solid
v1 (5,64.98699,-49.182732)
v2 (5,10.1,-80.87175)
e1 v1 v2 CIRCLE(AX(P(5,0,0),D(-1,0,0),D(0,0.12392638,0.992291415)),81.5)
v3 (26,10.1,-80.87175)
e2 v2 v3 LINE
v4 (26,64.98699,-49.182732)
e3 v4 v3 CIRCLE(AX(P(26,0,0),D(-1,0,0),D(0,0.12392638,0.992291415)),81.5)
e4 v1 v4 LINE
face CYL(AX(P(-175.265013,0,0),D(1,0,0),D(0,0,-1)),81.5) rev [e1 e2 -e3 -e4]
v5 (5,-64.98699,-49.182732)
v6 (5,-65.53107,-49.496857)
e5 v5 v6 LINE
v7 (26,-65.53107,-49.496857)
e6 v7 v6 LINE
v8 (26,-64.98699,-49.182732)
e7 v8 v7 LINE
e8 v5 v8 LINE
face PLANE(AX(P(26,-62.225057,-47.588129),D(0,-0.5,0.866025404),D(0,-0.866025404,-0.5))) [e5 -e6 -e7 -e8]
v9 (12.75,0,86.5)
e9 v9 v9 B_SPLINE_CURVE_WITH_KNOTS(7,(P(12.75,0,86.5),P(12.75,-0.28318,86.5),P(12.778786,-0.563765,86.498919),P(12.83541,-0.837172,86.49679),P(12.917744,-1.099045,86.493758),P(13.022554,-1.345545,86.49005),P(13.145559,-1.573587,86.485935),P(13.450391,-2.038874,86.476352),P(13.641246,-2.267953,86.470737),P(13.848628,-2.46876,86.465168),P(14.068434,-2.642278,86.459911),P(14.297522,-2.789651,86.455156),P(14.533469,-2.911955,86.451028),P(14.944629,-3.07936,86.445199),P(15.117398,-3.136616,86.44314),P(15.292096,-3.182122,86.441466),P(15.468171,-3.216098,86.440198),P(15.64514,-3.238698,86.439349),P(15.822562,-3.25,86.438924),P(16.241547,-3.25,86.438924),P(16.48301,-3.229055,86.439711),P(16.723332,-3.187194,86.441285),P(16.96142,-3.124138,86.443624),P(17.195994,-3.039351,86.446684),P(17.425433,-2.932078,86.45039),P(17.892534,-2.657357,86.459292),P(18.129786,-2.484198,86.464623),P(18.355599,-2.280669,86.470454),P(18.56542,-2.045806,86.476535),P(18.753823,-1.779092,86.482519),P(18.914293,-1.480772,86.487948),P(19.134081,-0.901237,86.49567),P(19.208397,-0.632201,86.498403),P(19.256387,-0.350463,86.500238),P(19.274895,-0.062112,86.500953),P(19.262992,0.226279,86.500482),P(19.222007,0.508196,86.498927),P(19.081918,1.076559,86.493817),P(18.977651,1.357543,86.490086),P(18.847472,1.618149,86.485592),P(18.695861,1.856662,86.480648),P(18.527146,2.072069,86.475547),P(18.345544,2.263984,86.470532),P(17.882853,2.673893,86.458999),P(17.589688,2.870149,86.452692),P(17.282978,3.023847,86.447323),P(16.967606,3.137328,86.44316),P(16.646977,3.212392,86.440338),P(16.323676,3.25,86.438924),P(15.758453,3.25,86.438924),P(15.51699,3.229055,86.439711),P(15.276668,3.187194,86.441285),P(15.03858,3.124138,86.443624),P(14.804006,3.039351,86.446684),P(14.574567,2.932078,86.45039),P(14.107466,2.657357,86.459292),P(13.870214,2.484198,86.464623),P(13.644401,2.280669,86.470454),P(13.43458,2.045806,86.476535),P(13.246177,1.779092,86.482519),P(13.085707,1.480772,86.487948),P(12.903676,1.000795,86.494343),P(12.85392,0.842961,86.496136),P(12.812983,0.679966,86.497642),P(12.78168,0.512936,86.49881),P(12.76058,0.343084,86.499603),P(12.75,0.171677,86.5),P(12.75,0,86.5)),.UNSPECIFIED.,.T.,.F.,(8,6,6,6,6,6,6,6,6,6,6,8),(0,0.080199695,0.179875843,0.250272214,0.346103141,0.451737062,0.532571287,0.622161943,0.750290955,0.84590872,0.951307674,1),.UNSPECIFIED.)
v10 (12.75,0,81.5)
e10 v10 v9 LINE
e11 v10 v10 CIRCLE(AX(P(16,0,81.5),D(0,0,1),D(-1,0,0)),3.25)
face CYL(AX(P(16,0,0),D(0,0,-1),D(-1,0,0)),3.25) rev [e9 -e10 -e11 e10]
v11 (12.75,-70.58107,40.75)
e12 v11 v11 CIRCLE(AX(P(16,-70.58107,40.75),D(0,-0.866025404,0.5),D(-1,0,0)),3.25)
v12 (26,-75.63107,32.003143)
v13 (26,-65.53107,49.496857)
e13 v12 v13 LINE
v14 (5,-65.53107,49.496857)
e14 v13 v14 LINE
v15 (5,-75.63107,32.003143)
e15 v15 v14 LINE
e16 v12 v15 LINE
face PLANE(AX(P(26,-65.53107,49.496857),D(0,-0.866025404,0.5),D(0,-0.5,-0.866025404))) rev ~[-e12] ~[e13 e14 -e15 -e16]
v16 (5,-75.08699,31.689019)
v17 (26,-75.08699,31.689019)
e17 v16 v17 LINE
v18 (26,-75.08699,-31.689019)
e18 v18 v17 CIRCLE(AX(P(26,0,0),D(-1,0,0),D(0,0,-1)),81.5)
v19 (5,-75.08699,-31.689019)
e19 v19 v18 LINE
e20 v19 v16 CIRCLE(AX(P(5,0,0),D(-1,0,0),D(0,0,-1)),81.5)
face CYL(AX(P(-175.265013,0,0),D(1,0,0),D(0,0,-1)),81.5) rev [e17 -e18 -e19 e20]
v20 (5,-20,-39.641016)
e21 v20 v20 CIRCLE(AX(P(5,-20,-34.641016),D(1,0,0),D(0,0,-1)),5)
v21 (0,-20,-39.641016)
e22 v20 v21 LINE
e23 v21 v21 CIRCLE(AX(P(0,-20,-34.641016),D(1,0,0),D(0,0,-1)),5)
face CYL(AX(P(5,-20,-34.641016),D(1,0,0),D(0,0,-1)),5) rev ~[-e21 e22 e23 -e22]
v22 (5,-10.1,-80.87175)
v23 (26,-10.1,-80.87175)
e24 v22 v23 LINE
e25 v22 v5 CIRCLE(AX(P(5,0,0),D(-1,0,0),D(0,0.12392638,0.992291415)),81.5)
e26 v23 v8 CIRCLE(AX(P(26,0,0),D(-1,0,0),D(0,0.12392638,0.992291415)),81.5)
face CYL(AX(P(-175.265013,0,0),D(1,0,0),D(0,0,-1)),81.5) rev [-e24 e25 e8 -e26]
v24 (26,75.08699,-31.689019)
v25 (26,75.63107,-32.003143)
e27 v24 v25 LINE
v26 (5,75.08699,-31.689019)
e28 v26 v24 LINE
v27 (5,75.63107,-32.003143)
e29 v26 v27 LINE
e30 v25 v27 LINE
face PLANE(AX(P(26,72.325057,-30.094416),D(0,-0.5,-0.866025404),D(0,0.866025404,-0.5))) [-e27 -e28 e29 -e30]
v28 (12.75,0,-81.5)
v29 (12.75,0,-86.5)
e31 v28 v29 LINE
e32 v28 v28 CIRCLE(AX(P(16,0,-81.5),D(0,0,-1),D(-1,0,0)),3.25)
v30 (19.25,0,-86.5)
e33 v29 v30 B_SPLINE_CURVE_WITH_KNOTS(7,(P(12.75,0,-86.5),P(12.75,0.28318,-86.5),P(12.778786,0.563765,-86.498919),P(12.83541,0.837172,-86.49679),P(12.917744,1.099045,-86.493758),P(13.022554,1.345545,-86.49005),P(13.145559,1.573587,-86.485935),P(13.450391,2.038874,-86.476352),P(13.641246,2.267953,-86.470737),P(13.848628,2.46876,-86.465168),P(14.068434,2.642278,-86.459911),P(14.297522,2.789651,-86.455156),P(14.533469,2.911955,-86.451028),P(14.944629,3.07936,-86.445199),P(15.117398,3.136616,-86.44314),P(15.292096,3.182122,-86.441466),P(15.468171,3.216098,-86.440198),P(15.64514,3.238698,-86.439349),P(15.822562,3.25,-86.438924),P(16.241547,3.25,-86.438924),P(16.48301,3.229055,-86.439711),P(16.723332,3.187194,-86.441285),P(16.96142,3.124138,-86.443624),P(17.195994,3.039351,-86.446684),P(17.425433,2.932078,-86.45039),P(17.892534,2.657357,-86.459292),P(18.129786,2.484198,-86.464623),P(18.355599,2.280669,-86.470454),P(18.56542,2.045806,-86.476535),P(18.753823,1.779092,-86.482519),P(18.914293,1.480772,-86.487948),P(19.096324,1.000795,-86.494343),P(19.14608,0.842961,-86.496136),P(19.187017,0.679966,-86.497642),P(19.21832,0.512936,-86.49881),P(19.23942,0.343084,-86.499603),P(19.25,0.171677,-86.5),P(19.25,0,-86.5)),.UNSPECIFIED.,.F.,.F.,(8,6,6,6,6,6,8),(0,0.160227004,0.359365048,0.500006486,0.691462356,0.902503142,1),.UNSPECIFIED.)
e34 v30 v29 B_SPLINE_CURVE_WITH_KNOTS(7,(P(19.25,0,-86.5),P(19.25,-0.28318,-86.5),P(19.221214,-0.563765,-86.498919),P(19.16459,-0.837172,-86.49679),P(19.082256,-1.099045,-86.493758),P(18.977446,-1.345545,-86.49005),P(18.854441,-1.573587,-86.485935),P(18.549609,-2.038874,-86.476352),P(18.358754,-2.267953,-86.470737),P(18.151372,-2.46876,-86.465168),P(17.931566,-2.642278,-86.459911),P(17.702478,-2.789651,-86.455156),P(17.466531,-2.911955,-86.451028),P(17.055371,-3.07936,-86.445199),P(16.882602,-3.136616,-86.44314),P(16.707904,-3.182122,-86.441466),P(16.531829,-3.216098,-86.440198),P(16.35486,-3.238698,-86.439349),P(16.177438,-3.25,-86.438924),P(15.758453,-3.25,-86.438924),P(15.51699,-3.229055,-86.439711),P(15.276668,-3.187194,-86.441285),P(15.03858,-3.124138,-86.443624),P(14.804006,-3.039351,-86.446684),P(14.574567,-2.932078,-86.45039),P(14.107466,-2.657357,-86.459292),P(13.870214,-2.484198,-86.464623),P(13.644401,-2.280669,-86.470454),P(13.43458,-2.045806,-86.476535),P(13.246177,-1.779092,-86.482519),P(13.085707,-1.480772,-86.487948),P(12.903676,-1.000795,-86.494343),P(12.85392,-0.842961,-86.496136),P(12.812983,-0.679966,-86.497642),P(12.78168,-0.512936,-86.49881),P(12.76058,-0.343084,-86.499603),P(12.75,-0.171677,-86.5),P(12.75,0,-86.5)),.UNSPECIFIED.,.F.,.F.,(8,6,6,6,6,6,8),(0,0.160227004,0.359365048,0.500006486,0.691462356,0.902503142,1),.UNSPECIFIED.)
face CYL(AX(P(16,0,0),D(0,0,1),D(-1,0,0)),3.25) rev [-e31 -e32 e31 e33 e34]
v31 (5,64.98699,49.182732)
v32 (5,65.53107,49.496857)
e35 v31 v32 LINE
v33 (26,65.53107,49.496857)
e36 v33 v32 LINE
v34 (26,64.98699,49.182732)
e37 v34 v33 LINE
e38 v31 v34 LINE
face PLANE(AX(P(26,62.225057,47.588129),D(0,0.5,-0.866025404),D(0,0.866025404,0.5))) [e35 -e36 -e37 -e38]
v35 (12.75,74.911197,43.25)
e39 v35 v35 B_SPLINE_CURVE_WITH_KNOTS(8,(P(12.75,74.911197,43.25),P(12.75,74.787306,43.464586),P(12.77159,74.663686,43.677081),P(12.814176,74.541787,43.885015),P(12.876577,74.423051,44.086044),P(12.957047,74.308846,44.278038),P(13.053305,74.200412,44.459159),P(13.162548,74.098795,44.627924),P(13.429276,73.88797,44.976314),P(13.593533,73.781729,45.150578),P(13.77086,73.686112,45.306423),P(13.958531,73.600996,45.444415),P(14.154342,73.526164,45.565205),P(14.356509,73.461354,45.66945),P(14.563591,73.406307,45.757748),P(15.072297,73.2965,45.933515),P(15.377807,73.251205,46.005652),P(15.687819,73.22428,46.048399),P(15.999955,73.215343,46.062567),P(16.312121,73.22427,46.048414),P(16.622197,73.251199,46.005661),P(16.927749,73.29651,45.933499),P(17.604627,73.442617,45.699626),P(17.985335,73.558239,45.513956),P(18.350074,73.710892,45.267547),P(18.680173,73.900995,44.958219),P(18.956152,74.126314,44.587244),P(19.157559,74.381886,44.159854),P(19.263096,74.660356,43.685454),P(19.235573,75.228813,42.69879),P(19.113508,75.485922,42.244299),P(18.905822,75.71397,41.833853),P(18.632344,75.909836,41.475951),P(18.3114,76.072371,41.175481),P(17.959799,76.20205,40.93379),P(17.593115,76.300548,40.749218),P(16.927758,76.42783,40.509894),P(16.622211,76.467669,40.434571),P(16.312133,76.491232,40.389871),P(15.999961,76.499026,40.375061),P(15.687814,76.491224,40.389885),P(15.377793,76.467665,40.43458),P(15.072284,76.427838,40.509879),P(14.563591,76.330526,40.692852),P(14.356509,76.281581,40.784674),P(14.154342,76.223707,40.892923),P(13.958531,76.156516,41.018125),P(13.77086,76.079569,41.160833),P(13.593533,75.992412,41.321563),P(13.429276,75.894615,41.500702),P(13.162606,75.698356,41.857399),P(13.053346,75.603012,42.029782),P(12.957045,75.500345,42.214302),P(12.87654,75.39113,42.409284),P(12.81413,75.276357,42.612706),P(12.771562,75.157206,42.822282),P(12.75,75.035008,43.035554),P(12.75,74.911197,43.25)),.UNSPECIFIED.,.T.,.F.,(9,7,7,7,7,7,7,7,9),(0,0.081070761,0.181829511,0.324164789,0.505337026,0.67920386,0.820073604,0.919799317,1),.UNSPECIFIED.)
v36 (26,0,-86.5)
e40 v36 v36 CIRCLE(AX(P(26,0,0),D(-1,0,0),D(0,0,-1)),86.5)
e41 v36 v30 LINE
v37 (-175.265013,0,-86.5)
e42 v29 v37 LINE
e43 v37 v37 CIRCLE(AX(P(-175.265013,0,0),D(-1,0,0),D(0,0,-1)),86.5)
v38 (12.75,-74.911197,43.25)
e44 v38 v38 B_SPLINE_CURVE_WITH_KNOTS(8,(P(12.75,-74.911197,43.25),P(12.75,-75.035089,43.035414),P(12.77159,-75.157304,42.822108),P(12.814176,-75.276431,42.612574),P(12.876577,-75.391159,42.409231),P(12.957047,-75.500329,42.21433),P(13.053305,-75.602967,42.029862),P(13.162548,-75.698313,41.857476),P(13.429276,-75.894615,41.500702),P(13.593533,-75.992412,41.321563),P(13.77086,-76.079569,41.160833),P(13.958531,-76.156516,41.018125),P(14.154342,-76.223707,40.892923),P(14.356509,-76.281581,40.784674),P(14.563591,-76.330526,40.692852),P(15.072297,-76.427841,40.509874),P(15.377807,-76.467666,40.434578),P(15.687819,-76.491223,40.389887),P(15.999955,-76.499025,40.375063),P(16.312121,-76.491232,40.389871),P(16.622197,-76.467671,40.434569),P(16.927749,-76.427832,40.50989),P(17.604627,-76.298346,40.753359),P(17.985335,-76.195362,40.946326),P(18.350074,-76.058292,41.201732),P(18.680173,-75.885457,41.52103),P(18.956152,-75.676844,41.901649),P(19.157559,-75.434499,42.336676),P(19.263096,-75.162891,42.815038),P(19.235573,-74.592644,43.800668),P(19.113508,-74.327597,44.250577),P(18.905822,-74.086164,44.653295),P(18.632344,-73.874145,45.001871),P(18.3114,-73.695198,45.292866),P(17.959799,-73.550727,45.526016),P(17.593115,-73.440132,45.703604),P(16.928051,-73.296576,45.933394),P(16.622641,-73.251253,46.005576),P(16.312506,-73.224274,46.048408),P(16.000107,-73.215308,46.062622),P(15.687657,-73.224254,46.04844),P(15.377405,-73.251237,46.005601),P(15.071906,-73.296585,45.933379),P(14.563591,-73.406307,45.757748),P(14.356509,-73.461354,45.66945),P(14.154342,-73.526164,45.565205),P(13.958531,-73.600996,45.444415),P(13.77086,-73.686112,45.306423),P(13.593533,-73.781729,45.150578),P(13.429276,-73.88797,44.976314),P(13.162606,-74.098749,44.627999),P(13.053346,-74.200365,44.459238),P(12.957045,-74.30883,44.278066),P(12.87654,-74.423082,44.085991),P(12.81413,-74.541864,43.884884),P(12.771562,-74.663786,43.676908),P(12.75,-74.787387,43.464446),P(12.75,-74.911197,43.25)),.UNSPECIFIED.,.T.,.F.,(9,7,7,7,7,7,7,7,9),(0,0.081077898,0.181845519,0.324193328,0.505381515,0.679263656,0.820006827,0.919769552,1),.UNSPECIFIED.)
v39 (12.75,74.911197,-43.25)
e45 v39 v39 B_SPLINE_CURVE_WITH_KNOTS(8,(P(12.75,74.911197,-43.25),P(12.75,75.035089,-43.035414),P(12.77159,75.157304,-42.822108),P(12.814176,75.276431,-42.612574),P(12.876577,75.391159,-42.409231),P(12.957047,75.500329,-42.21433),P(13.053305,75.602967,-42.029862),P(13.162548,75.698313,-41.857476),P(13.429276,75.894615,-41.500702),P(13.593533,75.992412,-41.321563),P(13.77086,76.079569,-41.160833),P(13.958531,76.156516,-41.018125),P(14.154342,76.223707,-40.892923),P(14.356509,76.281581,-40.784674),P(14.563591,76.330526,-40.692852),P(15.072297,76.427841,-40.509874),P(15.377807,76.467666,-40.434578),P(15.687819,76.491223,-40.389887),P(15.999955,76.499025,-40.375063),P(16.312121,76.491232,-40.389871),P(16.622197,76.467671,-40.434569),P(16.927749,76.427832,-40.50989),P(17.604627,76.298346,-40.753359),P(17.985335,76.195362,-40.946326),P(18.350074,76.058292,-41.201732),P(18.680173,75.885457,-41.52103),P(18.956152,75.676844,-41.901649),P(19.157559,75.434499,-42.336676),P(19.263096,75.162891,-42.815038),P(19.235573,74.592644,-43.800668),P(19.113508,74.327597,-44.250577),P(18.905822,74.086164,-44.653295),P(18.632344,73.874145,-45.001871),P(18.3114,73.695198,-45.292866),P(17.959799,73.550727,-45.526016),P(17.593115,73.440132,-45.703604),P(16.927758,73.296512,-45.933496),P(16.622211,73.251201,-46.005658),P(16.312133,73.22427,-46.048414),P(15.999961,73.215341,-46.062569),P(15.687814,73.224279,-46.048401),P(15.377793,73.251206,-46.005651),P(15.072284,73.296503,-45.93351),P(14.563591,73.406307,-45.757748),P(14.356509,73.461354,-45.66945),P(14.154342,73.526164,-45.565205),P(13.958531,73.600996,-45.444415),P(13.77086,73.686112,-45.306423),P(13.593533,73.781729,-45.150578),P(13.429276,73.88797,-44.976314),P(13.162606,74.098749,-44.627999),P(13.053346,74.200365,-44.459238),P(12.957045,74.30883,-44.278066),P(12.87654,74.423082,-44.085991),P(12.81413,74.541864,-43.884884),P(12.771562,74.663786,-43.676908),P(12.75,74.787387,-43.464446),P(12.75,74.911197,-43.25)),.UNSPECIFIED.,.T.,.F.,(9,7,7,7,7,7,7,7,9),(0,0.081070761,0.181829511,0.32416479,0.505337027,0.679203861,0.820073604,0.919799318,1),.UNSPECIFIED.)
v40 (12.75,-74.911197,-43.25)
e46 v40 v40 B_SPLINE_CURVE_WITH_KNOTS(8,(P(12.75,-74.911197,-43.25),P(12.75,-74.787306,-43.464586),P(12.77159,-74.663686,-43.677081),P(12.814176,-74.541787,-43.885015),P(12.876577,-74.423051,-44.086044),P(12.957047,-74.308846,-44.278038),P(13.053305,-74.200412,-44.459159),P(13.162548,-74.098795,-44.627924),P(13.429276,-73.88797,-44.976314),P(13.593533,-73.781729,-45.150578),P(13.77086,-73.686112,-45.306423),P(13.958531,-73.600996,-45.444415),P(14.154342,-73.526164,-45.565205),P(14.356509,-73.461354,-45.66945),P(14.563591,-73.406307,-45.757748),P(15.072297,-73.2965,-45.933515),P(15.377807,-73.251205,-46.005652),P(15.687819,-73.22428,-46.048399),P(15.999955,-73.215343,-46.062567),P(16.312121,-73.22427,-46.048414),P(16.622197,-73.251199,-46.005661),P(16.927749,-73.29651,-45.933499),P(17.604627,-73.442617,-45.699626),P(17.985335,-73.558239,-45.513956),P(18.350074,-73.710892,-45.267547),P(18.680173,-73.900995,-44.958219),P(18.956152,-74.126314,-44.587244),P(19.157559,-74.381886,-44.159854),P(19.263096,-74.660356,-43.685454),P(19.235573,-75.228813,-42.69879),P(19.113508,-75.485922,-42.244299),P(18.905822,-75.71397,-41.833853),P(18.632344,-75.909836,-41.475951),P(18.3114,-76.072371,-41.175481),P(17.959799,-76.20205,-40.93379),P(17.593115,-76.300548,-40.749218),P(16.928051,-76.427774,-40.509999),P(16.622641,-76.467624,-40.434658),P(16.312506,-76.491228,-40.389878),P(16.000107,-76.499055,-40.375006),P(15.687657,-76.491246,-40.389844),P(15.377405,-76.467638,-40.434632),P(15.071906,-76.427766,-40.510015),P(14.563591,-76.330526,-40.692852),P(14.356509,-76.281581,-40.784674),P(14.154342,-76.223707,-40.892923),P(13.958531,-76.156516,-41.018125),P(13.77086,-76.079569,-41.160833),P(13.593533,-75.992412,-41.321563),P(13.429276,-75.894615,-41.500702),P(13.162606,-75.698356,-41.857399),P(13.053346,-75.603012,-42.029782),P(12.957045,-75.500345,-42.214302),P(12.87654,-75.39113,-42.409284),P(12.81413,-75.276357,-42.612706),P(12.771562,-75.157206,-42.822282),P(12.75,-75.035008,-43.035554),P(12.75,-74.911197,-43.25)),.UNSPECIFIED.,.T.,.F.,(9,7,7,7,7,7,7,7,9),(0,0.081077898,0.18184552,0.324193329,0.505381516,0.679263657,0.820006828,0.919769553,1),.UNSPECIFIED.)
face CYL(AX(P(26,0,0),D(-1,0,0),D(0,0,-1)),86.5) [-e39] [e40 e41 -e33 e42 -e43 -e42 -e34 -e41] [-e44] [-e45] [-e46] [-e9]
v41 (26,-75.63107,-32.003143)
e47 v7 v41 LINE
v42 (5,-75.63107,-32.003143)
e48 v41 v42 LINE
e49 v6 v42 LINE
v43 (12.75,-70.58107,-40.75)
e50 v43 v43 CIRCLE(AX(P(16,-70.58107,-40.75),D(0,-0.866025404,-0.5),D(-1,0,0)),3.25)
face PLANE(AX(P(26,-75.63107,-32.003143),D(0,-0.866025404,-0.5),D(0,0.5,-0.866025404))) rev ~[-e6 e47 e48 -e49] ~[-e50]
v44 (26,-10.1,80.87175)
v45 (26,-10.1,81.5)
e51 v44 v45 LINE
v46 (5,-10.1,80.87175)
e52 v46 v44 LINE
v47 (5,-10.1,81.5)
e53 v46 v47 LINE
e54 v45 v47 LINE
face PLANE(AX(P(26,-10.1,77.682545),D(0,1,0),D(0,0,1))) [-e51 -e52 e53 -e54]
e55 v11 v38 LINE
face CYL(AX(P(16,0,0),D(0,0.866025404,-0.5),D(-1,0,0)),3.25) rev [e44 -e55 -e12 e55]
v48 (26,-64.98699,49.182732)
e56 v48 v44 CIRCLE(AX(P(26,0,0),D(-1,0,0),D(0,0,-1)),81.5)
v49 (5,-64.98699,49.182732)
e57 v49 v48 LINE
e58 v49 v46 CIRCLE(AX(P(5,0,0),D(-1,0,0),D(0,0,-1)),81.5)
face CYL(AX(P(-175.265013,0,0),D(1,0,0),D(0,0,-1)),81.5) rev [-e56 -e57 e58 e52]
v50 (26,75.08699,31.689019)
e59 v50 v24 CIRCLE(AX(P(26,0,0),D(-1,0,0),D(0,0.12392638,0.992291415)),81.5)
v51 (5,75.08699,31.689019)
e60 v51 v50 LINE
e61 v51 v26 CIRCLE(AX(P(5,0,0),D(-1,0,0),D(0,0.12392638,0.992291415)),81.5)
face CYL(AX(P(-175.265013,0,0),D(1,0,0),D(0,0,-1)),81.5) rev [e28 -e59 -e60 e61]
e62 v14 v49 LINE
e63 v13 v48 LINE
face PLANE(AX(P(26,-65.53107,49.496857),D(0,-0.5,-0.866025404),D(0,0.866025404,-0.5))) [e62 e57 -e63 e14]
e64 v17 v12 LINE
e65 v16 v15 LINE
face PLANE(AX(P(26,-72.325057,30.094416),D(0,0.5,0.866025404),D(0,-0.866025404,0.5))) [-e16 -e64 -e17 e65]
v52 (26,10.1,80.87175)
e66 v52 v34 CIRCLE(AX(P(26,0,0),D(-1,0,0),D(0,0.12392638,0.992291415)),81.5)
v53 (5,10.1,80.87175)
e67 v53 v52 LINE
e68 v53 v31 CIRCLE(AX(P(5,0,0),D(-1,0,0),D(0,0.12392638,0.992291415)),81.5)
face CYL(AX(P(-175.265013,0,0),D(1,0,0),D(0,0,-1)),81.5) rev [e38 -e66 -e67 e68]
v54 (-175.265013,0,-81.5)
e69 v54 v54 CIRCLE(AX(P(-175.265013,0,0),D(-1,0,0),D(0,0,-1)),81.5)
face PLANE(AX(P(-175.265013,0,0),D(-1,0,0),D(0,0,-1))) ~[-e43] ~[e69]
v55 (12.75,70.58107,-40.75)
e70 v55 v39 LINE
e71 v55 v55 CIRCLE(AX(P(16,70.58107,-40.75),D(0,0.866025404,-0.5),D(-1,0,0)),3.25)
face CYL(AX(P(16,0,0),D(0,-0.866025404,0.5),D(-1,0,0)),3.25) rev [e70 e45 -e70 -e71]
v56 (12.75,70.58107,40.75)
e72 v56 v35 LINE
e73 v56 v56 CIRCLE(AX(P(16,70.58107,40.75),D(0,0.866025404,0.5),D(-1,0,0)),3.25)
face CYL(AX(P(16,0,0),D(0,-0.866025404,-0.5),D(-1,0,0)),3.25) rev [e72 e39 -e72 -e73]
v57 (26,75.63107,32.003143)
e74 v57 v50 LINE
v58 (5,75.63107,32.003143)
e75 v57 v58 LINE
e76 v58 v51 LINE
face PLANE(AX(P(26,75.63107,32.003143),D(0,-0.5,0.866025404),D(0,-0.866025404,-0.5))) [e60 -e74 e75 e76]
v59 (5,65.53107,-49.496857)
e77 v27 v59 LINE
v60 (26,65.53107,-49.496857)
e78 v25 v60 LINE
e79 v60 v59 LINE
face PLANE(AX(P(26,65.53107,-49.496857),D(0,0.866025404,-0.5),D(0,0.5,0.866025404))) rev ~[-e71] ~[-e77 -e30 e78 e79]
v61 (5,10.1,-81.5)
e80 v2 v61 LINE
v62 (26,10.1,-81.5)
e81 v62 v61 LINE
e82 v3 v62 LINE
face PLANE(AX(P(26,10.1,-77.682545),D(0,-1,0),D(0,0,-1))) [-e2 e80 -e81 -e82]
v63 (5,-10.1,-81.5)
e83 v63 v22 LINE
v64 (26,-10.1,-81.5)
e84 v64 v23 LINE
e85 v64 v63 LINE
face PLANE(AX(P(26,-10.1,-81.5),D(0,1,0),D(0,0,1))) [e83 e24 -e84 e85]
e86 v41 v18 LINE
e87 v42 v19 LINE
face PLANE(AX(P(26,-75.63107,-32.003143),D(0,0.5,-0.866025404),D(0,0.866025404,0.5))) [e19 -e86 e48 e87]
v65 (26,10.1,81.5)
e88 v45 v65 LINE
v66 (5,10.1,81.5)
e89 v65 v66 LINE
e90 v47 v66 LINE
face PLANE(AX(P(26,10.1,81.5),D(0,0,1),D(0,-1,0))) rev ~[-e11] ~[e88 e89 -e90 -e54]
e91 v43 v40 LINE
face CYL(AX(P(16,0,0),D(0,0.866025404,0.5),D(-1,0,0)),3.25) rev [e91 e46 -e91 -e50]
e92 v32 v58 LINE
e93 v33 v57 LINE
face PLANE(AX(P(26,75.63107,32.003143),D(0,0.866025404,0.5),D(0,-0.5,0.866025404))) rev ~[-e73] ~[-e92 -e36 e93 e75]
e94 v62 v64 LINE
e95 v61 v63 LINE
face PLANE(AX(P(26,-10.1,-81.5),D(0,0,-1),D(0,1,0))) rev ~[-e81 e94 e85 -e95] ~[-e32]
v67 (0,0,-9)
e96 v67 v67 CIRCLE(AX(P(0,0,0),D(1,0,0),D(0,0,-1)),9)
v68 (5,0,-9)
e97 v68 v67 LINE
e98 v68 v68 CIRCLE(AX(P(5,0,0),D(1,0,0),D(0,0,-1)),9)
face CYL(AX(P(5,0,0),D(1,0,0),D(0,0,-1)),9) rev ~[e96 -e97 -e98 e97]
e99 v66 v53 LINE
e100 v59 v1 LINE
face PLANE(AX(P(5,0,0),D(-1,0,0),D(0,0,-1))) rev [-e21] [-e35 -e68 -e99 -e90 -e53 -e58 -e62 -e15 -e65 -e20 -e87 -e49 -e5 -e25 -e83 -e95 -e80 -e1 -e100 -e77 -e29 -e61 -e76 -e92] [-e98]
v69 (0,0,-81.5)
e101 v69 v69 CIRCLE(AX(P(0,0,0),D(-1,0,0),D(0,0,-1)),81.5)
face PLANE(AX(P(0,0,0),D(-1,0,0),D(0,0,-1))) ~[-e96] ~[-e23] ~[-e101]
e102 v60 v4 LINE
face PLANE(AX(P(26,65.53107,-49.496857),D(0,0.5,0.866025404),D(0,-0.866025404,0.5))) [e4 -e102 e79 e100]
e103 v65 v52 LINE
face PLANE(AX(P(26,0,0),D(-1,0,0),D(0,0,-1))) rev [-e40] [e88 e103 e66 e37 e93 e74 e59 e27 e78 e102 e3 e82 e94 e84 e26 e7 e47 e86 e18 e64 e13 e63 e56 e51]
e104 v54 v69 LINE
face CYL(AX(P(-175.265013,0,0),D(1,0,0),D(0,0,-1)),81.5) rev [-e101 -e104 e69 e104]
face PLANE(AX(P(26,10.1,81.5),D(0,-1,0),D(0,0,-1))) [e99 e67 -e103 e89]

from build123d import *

# Parameters (mm, degrees)
SZKIC1_W                   = 5
SZKIC1_H                   = 5
SZKIC1_W_2                 = 21
SZKIC1_W_3                 = 175.265013497
SZKIC1_H_2                 = 81.5
SZKIC7_R                   = 3.25
WYTNIJ_WYCI_GNI_CIE1_DEPTH = 100
SZYK_KO_OWY1_COUNT         = 6
WYTNIJ_WYCI_GNI_CIE3_DEPTH = 21
SZYK_KO_OWY2_COUNT         = 6
WYTNIJ_WYCI_GNI_CIE2_REACH = 219.853
SZKIC8_R                   = 9
SZKIC8_R_2                 = 5


with BuildPart() as part:
    # Szkic1 → Obrót1 (revolve)
    with BuildSketch(Plane.XY, mode=Mode.PRIVATE) as obr_t1_sk:
        with Locations((2.5, 84)):
            Rectangle(SZKIC1_W, SZKIC1_H)
        with Locations((15.5, 84)):
            Rectangle(SZKIC1_W_2, SZKIC1_H)
        with Locations((-87.632506749, 84)):
            Rectangle(SZKIC1_W_3, SZKIC1_H)
        with Locations((2.5, 40.75)):
            Rectangle(SZKIC1_W, SZKIC1_H_2)
    revolve(obr_t1_sk.sketch.rotate(Axis((5, 0, 0), (-1, 0, 0)), 90), axis=Axis((5, 0, 0), (-1, 0, 0)))

    # Szkic7 → Wytnij-wyciągnięcie1 (cut)
    with BuildSketch(Plane.XY):
        with Locations(Location((16, 0, 0), (0, 0, 180))):
            Circle(SZKIC7_R)
    wytnij_wyci_gni_cie1 = extrude(amount=WYTNIJ_WYCI_GNI_CIE1_DEPTH, mode=Mode.SUBTRACT)

    # Szyk kołowy1: Wytnij-wyciągnięcie1 ×6 about axis
    szyk_ko_owy1_axis = Axis((26, 0, 0), (1, 0, 0))
    for i in range(1, SZYK_KO_OWY1_COUNT):
        add(wytnij_wyci_gni_cie1.rotate(szyk_ko_owy1_axis, i * 360 / SZYK_KO_OWY1_COUNT), mode=Mode.SUBTRACT)

    # Szkic9 → Wytnij-wyciągnięcie3 (cut)
    with BuildSketch(Plane(origin=(26, 0, 0), x_dir=(0, 0, -1), z_dir=(1, 0, 0))):
        Polygon((-81.5, 0), (-81.5, 10.1), (-77.682544911, 10.1), (-77.682544911, -10.1), (-81.5, -10.1), align=None)
    wytnij_wyci_gni_cie3 = extrude(amount=-WYTNIJ_WYCI_GNI_CIE3_DEPTH, mode=Mode.SUBTRACT)

    # Szyk kołowy2: Wytnij-wyciągnięcie3 ×6 about axis
    szyk_ko_owy2_axis = Axis((0, 0, 0), (1, 0, 0))
    for i in range(1, SZYK_KO_OWY2_COUNT):
        add(wytnij_wyci_gni_cie3.rotate(szyk_ko_owy2_axis, i * 360 / SZYK_KO_OWY2_COUNT), mode=Mode.SUBTRACT)

    # Szkic8 → Wytnij-wyciągnięcie2 (cut, up to next)
    with BuildSketch(Plane(origin=(5, 0, 0), x_dir=(0, 0, -1), z_dir=(1, 0, 0)), mode=Mode.PRIVATE) as wytnij_wyci_gni_cie2_sk1:
        Circle(SZKIC8_R)
    wytnij_wyci_gni_cie2_tool1 = extrude(wytnij_wyci_gni_cie2_sk1.sketch, amount=-WYTNIJ_WYCI_GNI_CIE2_REACH, mode=Mode.PRIVATE) & part.part
    # Szkic8 → Wytnij-wyciągnięcie2 (cut, up to next)
    with BuildSketch(Plane(origin=(5, 0, 0), x_dir=(0, 0, -1), z_dir=(1, 0, 0)), mode=Mode.PRIVATE) as wytnij_wyci_gni_cie2_sk2:
        with Locations((34.641016151, -20)):
            Circle(SZKIC8_R_2)
    wytnij_wyci_gni_cie2_tool2 = extrude(wytnij_wyci_gni_cie2_sk2.sketch, amount=-WYTNIJ_WYCI_GNI_CIE2_REACH, mode=Mode.PRIVATE) & part.part
    add(wytnij_wyci_gni_cie2_tool1.solids().sort_by_distance((5, 0, 0))[0], mode=Mode.SUBTRACT)
    add(wytnij_wyci_gni_cie2_tool2.solids().sort_by_distance((5, -20, -34.641016))[0], mode=Mode.SUBTRACT)


solid = part.part
